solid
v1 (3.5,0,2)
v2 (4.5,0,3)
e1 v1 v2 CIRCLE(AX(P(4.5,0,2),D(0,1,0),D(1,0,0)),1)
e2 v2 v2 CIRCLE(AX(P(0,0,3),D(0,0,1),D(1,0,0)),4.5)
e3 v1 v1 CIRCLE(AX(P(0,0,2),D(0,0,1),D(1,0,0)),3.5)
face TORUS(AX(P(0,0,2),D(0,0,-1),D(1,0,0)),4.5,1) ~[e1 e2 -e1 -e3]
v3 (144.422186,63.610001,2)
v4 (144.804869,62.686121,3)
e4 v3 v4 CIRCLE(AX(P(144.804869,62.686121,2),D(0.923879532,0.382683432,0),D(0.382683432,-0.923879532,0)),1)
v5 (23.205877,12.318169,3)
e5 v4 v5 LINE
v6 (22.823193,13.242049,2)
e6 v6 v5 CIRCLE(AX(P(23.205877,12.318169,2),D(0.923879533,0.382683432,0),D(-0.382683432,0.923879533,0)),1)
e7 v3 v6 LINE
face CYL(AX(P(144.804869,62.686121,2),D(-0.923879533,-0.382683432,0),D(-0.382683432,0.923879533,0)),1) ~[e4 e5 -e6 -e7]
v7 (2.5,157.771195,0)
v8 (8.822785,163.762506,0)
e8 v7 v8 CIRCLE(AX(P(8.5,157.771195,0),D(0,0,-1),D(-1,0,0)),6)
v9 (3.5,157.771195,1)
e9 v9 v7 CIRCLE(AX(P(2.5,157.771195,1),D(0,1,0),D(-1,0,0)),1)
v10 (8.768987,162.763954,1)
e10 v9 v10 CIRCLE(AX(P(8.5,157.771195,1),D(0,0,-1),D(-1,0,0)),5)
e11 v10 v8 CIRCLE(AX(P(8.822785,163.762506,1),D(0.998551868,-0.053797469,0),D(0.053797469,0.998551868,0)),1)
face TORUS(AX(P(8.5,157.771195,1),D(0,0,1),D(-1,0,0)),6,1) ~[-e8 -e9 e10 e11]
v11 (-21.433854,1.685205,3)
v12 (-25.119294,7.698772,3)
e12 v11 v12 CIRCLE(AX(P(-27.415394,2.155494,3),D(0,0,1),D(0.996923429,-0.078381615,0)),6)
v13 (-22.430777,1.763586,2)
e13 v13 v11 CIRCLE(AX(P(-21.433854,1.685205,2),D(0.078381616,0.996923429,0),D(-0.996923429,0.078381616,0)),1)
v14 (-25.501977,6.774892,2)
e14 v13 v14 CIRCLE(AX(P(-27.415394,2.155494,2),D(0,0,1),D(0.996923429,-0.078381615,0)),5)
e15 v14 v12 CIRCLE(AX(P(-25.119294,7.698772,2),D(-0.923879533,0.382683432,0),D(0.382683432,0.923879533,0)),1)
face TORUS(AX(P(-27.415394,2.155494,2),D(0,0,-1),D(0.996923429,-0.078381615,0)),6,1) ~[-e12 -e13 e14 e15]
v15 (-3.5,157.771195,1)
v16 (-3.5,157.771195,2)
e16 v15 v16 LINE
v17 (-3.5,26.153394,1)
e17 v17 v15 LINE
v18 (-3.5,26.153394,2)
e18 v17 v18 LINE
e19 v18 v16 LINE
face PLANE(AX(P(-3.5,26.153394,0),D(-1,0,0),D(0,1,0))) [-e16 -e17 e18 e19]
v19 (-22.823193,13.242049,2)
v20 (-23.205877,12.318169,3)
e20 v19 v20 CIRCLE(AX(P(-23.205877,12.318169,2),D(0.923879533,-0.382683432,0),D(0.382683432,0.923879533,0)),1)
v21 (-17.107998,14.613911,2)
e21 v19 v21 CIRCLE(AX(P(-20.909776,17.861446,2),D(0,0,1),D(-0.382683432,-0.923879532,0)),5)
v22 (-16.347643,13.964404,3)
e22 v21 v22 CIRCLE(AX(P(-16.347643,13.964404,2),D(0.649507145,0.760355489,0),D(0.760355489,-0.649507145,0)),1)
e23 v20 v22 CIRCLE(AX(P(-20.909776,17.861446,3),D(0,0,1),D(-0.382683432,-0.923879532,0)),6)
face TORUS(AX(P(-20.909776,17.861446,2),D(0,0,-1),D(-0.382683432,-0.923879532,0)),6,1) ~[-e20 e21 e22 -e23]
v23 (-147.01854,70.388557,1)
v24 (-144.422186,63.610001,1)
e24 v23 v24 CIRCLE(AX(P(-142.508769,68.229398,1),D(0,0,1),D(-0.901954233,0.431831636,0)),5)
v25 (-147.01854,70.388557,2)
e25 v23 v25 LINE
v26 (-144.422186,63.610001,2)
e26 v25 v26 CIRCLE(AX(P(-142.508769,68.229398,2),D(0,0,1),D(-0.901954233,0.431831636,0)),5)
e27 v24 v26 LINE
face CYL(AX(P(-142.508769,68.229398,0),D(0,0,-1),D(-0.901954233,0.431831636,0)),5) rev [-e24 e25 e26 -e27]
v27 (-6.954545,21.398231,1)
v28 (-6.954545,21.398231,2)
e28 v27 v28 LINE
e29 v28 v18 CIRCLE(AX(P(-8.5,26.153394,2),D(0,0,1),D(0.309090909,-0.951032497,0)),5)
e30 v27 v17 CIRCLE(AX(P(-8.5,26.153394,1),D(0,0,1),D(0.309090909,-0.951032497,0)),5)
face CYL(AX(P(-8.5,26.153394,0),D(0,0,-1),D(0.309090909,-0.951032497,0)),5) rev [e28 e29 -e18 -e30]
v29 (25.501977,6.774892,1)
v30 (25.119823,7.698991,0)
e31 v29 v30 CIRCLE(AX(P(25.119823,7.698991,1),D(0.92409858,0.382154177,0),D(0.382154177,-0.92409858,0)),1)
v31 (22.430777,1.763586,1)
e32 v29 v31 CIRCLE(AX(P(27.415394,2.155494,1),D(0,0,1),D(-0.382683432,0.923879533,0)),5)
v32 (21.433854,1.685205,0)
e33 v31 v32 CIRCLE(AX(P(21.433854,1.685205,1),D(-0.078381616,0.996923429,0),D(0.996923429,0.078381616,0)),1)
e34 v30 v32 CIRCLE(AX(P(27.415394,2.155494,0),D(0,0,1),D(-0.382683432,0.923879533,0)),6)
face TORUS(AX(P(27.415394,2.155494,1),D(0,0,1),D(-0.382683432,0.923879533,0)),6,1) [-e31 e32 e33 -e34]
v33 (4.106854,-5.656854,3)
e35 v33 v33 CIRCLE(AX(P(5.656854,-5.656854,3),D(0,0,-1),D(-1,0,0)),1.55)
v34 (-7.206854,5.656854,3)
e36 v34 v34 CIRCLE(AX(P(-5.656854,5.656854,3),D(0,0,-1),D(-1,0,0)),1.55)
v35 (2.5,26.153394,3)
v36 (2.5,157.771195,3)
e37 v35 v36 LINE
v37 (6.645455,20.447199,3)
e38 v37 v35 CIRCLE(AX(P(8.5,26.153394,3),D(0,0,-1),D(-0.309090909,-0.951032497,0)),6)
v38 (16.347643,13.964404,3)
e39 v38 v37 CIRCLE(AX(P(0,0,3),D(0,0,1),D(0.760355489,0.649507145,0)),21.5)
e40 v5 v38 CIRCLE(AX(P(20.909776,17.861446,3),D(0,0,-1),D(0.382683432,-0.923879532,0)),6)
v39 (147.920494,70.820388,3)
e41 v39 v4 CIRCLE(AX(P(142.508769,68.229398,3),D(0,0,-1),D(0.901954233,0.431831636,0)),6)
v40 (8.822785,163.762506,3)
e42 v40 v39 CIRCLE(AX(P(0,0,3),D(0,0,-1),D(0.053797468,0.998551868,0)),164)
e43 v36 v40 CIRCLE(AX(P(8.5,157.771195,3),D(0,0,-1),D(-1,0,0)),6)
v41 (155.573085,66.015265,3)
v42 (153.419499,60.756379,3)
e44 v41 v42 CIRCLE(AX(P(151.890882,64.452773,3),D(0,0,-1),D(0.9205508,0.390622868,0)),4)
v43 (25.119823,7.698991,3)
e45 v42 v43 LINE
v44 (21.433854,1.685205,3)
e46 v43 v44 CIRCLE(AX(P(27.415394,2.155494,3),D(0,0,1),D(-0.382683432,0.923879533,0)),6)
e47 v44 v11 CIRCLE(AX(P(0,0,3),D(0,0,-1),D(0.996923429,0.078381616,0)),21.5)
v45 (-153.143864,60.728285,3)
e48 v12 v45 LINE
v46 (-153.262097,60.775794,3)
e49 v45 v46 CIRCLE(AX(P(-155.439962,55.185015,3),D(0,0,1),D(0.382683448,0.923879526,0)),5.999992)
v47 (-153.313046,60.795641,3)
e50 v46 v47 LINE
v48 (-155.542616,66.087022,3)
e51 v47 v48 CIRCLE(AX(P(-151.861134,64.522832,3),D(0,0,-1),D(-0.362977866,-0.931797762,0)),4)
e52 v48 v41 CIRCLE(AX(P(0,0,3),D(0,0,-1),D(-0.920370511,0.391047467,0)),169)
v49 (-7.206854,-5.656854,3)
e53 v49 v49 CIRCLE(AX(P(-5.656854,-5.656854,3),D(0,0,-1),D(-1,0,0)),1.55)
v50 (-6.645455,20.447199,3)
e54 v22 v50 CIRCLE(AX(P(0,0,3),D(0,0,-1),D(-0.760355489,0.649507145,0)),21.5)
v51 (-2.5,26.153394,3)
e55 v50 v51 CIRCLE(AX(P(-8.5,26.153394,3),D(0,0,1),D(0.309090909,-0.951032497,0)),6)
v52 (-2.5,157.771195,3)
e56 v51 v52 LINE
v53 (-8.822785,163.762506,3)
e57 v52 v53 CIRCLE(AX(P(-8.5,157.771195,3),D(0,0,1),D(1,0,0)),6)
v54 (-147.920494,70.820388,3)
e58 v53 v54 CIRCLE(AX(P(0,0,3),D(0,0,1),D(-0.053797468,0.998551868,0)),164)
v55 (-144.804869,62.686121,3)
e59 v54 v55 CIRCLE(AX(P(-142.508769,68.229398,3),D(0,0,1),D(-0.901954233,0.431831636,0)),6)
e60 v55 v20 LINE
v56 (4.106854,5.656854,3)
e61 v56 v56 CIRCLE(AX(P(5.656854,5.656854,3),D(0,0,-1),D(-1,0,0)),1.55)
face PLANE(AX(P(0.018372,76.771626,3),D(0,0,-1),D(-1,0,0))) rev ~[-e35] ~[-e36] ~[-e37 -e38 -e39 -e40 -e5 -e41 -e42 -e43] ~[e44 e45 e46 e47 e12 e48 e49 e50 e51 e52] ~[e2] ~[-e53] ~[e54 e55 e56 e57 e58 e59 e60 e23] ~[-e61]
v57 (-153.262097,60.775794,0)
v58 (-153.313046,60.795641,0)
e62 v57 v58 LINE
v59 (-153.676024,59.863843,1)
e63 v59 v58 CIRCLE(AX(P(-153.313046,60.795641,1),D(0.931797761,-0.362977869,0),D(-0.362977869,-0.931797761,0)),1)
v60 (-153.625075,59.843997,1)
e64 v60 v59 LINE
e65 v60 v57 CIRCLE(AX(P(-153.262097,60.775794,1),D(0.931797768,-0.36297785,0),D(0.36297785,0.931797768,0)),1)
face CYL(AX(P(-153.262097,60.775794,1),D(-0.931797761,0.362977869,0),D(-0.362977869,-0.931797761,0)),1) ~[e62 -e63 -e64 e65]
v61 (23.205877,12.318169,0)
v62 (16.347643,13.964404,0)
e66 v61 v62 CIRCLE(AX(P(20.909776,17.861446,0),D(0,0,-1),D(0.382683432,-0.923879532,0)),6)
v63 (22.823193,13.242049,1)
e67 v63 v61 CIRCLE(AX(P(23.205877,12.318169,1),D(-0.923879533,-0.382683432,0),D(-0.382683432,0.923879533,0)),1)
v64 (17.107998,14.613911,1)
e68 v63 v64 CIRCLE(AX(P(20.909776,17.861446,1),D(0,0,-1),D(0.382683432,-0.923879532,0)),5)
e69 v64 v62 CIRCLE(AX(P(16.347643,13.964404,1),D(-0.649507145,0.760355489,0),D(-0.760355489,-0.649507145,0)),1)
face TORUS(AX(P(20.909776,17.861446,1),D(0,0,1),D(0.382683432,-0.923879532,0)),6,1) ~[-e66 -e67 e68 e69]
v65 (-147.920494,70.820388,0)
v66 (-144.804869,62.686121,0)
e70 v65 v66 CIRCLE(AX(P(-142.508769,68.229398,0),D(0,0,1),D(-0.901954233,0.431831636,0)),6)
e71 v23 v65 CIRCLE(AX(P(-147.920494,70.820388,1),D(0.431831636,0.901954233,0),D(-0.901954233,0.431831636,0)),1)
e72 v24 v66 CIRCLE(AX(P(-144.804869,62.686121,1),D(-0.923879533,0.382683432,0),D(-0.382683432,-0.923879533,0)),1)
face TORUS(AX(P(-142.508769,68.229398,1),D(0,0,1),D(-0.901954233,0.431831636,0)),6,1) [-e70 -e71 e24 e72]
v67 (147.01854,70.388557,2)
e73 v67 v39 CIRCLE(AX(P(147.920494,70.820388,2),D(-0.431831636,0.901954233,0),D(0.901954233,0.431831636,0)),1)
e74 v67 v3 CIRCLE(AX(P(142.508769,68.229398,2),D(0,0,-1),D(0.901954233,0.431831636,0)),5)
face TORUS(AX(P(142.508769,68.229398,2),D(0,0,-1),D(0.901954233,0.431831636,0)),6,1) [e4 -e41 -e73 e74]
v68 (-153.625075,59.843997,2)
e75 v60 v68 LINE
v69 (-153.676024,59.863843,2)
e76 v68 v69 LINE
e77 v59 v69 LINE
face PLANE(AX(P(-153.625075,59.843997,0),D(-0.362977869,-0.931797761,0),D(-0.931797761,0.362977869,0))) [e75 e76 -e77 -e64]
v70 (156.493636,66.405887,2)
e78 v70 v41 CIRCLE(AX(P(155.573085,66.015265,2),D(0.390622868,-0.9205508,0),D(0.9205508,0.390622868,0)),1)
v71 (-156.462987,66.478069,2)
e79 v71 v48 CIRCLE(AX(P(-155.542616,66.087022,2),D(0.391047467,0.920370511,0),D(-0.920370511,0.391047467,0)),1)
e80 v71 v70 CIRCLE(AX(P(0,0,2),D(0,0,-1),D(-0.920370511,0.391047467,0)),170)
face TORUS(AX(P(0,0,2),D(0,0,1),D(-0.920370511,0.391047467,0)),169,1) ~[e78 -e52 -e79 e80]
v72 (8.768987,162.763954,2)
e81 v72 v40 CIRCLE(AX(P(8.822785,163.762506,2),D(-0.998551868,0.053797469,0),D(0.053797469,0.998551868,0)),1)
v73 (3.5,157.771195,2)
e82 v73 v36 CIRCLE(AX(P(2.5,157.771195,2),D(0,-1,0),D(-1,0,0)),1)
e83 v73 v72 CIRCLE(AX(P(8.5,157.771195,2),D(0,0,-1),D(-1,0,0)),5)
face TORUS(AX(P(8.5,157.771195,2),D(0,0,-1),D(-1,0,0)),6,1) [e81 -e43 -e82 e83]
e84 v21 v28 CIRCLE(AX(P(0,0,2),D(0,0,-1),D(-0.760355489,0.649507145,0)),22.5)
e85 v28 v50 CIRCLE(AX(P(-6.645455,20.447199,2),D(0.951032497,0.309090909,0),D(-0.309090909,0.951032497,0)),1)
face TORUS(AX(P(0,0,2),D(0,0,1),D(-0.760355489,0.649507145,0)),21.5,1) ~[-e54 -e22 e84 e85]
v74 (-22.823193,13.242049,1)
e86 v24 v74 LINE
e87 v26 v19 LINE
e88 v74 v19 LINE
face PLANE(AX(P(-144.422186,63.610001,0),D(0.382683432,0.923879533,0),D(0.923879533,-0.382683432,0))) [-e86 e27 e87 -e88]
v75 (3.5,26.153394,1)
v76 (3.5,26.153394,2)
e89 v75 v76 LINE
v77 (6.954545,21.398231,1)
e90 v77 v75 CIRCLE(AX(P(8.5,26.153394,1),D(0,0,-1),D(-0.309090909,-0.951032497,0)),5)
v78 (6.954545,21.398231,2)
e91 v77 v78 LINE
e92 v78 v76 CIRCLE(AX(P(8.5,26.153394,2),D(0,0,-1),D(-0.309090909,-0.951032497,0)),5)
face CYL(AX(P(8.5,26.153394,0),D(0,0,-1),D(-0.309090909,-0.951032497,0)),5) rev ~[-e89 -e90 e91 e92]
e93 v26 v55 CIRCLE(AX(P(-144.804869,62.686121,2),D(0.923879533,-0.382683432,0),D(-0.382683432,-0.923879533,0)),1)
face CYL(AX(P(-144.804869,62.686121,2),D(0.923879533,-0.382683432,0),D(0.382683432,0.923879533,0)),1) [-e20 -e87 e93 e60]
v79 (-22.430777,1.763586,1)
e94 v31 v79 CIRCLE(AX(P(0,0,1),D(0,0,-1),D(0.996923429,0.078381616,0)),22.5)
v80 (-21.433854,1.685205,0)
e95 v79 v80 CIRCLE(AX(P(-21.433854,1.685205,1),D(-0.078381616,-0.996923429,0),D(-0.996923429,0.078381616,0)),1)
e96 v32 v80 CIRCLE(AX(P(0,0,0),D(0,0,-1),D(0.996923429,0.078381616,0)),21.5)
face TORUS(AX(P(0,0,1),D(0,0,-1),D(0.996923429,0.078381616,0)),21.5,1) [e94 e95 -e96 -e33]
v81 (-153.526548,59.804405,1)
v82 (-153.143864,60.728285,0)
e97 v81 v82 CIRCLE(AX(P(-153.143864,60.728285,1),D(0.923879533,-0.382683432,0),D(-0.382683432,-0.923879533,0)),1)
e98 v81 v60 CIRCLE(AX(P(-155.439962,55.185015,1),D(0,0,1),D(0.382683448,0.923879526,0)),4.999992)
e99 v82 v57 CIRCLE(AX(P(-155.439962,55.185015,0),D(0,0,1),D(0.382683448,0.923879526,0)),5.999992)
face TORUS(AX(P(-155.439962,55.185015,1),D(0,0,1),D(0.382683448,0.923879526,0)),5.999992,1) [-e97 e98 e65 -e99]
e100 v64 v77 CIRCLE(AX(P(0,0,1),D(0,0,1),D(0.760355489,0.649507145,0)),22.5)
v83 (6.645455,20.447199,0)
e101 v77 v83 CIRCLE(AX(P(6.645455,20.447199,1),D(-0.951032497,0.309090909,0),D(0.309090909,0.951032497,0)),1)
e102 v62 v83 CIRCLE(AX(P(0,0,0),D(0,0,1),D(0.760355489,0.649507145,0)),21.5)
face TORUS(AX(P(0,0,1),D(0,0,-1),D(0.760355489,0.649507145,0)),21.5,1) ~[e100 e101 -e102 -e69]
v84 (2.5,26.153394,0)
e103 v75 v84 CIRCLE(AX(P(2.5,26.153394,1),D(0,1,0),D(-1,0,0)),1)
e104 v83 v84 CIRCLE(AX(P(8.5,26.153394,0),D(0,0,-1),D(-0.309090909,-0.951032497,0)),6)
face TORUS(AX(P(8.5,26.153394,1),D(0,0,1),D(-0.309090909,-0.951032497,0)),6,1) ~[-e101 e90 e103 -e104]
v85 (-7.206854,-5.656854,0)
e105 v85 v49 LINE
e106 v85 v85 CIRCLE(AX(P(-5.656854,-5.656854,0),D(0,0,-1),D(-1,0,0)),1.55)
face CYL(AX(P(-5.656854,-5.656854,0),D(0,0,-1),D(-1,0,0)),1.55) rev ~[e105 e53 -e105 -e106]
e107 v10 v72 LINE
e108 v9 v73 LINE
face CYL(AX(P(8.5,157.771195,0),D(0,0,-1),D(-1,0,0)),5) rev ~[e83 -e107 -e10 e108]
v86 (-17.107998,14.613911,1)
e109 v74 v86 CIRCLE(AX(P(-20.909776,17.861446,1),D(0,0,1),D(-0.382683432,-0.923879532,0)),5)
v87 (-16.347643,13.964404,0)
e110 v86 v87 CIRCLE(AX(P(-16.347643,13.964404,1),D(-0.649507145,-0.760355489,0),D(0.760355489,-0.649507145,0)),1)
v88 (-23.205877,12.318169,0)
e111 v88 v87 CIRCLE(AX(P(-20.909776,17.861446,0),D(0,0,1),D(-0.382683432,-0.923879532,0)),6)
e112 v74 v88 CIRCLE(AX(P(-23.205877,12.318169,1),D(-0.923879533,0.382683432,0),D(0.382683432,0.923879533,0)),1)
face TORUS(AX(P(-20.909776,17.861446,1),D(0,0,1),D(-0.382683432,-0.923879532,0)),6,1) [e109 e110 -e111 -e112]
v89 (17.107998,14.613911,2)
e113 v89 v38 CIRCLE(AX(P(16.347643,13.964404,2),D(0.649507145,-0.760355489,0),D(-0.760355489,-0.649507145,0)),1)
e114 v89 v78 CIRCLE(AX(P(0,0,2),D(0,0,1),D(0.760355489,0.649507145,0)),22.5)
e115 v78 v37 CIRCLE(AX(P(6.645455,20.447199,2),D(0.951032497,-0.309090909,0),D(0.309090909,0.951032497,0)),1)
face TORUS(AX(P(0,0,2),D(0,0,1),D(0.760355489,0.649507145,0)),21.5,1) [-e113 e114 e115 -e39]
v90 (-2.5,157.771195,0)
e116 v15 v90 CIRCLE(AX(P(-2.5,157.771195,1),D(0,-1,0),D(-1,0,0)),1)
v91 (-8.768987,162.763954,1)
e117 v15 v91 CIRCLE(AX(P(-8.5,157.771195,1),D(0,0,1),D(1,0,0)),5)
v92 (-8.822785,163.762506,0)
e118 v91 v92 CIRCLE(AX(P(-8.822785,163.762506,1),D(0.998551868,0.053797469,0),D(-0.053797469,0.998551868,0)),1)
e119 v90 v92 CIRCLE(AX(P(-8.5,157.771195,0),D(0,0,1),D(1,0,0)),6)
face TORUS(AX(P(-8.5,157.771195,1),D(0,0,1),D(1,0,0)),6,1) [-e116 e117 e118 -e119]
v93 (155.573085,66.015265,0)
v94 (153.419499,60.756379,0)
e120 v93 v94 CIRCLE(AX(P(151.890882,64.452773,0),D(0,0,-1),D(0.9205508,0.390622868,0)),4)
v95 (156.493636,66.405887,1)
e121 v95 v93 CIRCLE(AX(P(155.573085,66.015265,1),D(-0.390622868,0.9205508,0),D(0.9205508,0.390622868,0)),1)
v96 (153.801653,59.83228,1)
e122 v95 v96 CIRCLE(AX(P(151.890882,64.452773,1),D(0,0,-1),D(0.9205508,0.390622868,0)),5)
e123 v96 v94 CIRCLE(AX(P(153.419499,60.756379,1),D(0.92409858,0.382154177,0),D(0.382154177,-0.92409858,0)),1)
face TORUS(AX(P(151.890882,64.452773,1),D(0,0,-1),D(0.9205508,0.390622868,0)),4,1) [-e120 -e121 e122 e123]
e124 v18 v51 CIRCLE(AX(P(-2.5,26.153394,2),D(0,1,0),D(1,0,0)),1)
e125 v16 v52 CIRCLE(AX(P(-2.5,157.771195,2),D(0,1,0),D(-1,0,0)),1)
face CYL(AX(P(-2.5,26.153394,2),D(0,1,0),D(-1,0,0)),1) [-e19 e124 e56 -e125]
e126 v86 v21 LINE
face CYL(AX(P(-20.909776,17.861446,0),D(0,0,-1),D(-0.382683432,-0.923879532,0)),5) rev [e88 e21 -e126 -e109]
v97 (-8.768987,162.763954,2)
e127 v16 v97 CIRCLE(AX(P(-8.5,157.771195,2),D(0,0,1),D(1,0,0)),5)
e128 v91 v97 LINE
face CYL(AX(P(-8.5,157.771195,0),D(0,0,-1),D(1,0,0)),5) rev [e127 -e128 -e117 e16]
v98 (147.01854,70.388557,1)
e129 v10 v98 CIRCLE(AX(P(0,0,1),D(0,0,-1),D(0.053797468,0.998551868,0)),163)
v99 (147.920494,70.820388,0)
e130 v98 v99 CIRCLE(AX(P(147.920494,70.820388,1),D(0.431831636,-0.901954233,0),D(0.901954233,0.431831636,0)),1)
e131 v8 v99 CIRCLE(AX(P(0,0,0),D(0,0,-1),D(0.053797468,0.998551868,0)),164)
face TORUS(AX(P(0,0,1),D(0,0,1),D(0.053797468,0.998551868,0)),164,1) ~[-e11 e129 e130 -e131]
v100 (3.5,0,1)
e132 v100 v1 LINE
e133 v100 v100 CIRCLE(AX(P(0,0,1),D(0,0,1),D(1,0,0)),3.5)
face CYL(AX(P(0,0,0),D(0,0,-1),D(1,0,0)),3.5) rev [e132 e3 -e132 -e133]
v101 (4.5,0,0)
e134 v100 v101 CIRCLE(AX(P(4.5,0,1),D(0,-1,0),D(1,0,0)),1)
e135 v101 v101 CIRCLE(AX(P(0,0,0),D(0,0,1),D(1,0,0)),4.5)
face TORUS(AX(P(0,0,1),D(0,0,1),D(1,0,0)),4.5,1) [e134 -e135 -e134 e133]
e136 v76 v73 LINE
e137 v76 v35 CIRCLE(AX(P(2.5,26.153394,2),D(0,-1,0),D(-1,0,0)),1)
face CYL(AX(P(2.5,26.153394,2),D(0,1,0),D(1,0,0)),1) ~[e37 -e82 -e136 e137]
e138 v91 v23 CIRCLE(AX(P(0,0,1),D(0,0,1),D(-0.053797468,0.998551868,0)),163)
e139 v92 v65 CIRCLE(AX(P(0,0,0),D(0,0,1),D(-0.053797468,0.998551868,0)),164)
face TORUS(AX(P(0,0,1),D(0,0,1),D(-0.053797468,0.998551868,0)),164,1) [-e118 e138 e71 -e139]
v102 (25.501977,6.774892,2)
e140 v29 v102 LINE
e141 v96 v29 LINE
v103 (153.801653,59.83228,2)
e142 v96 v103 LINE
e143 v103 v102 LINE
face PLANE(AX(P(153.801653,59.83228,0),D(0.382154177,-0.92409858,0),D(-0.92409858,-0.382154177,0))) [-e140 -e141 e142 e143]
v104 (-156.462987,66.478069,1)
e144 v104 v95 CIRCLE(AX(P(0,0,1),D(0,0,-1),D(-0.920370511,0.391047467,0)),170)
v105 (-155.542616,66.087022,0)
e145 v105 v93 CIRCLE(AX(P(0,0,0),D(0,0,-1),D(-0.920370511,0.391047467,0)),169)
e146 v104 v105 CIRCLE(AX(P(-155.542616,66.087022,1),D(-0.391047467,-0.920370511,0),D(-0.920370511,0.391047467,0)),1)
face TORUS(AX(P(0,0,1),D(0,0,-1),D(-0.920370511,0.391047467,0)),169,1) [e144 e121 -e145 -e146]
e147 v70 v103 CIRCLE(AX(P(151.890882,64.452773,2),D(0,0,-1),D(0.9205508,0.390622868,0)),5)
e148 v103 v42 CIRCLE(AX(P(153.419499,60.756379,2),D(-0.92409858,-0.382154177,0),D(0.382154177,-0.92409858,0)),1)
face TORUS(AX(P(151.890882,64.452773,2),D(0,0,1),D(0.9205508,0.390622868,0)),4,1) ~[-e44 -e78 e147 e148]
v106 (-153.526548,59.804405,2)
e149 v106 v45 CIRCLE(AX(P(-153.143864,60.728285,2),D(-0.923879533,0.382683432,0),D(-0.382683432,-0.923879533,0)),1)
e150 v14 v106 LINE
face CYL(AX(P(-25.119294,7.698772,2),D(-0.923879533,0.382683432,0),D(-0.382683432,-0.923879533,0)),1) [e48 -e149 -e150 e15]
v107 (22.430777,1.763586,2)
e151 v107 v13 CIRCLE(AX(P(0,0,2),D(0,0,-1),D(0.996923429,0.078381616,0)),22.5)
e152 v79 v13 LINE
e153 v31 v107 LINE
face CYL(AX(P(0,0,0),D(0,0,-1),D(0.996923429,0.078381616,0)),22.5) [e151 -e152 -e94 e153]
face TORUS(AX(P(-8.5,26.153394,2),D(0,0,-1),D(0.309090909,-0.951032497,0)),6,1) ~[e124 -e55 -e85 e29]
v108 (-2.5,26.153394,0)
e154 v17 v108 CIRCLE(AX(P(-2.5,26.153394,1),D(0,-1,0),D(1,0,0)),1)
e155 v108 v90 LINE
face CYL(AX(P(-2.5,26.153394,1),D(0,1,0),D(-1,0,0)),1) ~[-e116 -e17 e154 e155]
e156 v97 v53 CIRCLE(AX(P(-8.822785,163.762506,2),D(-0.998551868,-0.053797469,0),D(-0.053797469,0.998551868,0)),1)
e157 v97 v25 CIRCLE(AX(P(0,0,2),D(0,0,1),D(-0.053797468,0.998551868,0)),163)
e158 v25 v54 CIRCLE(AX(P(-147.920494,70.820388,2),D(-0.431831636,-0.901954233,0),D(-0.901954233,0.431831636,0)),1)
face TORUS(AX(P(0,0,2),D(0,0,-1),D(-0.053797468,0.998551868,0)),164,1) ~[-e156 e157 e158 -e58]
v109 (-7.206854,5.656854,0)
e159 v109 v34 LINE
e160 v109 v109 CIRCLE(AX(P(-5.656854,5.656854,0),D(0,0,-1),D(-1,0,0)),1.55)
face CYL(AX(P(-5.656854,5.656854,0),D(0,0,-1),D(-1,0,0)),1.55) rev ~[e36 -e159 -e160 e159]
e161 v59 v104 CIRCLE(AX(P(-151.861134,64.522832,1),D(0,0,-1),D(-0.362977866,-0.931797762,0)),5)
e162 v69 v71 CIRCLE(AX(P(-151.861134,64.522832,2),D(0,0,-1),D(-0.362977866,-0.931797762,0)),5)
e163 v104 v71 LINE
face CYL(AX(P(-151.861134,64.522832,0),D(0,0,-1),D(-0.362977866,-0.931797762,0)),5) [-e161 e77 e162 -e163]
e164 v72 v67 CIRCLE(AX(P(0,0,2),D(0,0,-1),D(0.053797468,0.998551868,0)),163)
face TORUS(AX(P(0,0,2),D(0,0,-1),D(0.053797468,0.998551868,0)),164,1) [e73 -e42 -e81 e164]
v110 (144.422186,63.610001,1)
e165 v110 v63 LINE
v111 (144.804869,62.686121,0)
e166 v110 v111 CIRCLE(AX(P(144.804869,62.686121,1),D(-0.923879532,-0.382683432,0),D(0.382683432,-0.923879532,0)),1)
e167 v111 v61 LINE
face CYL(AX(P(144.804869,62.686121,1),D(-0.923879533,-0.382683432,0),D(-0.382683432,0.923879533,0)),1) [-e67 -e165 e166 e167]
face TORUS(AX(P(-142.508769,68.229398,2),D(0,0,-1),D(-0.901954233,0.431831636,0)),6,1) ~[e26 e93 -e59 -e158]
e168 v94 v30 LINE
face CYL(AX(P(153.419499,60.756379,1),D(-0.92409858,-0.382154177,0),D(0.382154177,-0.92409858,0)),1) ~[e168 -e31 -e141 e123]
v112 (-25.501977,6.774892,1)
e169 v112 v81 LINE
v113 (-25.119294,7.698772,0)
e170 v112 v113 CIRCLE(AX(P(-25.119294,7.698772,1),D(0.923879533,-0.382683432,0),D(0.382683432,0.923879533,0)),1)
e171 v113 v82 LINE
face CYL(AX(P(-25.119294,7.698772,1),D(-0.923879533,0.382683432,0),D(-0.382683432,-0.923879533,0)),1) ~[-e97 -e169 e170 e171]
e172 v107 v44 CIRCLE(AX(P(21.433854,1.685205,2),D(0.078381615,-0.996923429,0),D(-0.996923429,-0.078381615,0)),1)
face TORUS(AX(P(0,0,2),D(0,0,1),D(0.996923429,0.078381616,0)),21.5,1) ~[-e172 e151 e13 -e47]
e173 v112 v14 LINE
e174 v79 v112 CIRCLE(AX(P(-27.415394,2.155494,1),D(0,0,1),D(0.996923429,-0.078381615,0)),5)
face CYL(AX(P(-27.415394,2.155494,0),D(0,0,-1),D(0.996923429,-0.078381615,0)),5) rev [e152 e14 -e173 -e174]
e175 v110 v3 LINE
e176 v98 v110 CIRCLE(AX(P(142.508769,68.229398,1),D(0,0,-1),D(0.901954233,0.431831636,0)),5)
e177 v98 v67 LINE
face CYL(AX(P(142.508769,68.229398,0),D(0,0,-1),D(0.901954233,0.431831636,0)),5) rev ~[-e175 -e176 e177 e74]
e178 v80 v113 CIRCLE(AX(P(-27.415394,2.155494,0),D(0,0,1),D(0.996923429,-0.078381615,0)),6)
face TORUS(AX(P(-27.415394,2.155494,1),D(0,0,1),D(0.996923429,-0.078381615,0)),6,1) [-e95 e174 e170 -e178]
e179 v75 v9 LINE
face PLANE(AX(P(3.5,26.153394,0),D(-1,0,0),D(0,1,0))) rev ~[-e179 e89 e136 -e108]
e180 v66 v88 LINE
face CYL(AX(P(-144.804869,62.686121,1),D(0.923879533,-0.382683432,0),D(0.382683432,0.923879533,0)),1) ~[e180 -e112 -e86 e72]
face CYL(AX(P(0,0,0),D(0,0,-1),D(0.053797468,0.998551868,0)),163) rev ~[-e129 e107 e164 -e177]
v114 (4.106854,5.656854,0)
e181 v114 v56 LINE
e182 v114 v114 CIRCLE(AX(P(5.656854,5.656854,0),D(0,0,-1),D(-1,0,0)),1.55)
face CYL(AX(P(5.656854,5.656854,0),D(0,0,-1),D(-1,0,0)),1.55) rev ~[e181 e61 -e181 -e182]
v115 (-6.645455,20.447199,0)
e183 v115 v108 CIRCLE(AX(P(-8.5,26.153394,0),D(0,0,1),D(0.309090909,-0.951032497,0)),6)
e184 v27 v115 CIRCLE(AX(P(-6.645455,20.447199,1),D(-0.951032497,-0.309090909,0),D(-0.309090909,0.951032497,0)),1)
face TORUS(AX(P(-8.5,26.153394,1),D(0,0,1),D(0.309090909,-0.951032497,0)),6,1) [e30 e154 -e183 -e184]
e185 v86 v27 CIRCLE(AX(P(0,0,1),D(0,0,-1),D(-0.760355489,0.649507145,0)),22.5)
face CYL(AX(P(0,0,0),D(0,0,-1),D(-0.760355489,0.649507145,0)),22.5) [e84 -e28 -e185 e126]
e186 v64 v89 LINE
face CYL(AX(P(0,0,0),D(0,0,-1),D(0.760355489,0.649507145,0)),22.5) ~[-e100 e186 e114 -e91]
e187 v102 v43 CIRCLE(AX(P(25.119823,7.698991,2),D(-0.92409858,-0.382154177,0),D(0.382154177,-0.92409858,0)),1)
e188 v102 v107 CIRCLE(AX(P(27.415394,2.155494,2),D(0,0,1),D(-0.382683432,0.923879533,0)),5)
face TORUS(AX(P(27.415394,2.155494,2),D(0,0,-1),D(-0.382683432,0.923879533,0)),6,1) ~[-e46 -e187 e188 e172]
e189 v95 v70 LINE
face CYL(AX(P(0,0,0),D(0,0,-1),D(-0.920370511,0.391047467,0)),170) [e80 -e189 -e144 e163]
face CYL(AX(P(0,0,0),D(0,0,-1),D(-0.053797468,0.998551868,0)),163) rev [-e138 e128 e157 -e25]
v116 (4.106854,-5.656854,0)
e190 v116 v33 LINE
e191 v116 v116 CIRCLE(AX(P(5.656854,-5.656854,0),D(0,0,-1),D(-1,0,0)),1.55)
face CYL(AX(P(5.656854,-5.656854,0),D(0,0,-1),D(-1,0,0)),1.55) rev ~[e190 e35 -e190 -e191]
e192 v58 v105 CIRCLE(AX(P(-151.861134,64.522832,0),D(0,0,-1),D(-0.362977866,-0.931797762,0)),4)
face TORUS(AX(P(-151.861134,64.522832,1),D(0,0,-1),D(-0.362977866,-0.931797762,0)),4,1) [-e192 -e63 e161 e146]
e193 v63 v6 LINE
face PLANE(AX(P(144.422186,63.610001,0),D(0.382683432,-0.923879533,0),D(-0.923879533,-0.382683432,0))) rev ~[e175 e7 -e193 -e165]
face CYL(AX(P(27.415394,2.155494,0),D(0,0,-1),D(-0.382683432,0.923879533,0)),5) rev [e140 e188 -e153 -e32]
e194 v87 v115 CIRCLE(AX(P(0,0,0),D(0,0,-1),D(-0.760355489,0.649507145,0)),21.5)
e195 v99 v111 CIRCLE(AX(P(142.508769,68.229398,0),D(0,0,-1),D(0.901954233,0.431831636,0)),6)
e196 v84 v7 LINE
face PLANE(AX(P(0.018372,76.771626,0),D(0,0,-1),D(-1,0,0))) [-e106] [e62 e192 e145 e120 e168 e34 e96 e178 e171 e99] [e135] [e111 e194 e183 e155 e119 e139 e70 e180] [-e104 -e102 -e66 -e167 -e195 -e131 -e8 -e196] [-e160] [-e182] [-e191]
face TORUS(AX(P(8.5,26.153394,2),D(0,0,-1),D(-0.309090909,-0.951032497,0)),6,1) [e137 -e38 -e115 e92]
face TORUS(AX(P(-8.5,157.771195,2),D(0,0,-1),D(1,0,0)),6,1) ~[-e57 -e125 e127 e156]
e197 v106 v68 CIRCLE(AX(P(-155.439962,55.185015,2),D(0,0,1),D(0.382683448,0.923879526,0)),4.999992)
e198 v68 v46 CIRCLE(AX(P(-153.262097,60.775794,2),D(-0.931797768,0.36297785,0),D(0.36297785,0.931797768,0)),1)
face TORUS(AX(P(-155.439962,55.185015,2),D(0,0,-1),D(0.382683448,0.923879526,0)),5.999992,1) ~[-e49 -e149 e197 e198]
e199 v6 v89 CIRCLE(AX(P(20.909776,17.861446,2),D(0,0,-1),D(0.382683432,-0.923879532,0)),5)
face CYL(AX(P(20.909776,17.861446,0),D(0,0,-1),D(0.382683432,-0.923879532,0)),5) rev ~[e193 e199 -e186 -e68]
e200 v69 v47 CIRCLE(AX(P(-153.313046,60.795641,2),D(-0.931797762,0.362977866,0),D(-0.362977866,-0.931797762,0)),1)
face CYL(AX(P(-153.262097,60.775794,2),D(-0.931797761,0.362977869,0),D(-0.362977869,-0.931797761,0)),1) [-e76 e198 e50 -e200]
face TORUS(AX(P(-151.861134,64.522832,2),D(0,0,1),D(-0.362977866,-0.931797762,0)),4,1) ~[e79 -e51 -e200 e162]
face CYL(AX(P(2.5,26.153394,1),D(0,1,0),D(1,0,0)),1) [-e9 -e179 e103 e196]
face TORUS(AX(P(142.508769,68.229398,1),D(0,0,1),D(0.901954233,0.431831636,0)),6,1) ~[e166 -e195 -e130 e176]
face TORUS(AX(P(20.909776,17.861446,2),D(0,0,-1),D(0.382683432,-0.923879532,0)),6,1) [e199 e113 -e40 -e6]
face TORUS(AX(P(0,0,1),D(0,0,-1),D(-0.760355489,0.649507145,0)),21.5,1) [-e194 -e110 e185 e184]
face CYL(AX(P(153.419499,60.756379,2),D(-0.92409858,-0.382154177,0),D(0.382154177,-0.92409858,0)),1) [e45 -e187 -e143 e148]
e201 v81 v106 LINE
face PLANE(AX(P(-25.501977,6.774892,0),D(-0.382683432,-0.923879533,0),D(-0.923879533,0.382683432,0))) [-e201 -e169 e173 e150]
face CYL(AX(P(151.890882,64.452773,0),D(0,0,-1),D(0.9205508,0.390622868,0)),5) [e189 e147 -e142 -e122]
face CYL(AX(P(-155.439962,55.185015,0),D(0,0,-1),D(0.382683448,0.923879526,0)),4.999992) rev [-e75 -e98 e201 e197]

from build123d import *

# Parameters (mm, degrees)
SKETCH_1_R          = 3.5
EXTRUDE_1_DEPTH     = 3
FILLET_1_R          = 1
SKETCH_3_R          = 1.55
CUT_EXTRUDE_1_DEPTH = 3


with BuildPart() as part:
    # 스케치1 → 보스-돌출1 (new body)
    with BuildSketch(Plane.XY):
        with BuildLine():
            Line((153.801652879, 59.832280258), (25.501977123, 6.77489209))
            ThreePointArc((25.501977123, 6.77489209), (23.152294987, 4.768152916), (22.430777142, 1.76358635))
            ThreePointArc((22.430777142, 1.76358635), (0, -22.5), (-22.430777142, 1.76358635))
            ThreePointArc((-22.430777142, 1.76358635), (-23.152294987, 4.768152916), (-25.501977123, 6.77489209))
            Line((-25.501977123, 6.77489209), (-153.526547506, 59.80440546))
            ThreePointArc((-153.526547506, 59.80440546), (-153.575706318, 59.824462594), (-153.625075335, 59.843996605))
            Line((-153.625075335, 59.843996605), (-153.676023706, 59.863843327))
            ThreePointArc((-153.676023706, 59.863843327), (-156.468806345, 62.581348422), (-156.462986931, 66.478069472))
            ThreePointArc((-156.462986931, 66.478069472), (0.039209702, 169.999995478), (156.493635993, 66.405887494))
            ThreePointArc((156.493635993, 66.405887494), (156.517930689, 62.557932696), (153.801652879, 59.832280258))
        make_face()
        Circle(SKETCH_1_R, mode=Mode.SUBTRACT)
        with BuildLine():
            Line((-3.5, 26.153393661), (-3.5, 157.77119509))
            ThreePointArc((-3.5, 157.77119509), (-5.060882141, 161.400584619), (-8.768987342, 162.763954428))
            ThreePointArc((-8.768987342, 162.763954428), (-90.557947982, 135.529546805), (-147.018539952, 70.388556672))
            ThreePointArc((-147.018539952, 70.388556672), (-147.177980916, 66.440975134), (-144.42218595, 63.610000829))
            Line((-144.42218595, 63.610000829), (-22.823193096, 13.242048818))
            ThreePointArc((-22.823193096, 13.242048818), (-19.742738046, 12.999551524), (-17.107998492, 14.613910757))
            ThreePointArc((-17.107998492, 14.613910757), (-12.500330243, 18.708066277), (-6.954545455, 21.398231177))
            ThreePointArc((-6.954545455, 21.398231177), (-4.454800825, 23.214624593), (-3.5, 26.153393661))
        make_face(mode=Mode.SUBTRACT)
        with BuildLine():
            Line((3.5, 26.153393661), (3.5, 157.77119509))
            ThreePointArc((3.5, 157.77119509), (5.060882141, 161.400584619), (8.768987342, 162.763954428))
            ThreePointArc((8.768987342, 162.763954428), (90.557947982, 135.529546805), (147.018539952, 70.388556672))
            ThreePointArc((147.018539952, 70.388556672), (147.177980916, 66.440975135), (144.42218595, 63.610000829))
            Line((144.42218595, 63.610000829), (22.823193096, 13.242048818))
            ThreePointArc((22.823193096, 13.242048818), (19.742738046, 12.999551524), (17.107998492, 14.613910757))
            ThreePointArc((17.107998492, 14.613910757), (12.500330243, 18.708066277), (6.954545455, 21.398231177))
            ThreePointArc((6.954545455, 21.398231177), (4.454800825, 23.214624593), (3.5, 26.153393661))
        make_face(mode=Mode.SUBTRACT)
    extrude(amount=EXTRUDE_1_DEPTH)

    # 필렛1
    fillet_1_edges = [part.edges().sort_by_distance(p)[0] for p in [
        (-156.468806345, 62.581348422, 3),
        (0, -22.5, 0),
        (-23.152294987, 4.768152916, 0),
        (-89.514262314, 33.289648775, 0),
        (-153.575706318, 59.824462594, 0),
        (-153.650549521, 59.853919966, 0),
        (-156.468806345, 62.581348422, 0),
        (0.039209702, 169.999995478, 0),
        (156.517930689, 62.557932696, 0),
        (-153.650549521, 59.853919966, 3),
        (-153.575706318, 59.824462594, 3),
        (-89.514262314, 33.289648775, 3),
        (-23.152294987, 4.768152916, 3),
        (0, -22.5, 3),
        (-3.5, 0, 0),
        (-3.5, 0, 3),
        (23.152294987, 4.768152916, 3),
        (89.651815001, 33.303586174, 3),
        (-147.177980916, 66.440975134, 0),
        (-83.622689523, 38.426024824, 0),
        (-19.742738046, 12.999551524, 0),
        (-12.500330243, 18.708066277, 0),
        (-4.454800825, 23.214624593, 0),
        (-3.5, 91.962294375, 0),
        (-5.060882141, 161.400584619, 0),
        (-90.557947982, 135.529546805, 0),
        (-147.177980916, 66.440975134, 3),
        (-83.622689523, 38.426024824, 3),
        (-19.742738046, 12.999551524, 3),
        (-12.500330243, 18.708066277, 3),
        (-4.454800825, 23.214624593, 3),
        (-3.5, 91.962294375, 3),
        (156.517930689, 62.557932696, 3),
        (-5.060882141, 161.400584619, 3),
        (-90.557947982, 135.529546805, 3),
        (5.060882141, 161.400584619, 0),
        (3.5, 91.962294375, 0),
        (4.454800825, 23.214624593, 0),
        (12.500330243, 18.708066277, 0),
        (19.742738046, 12.999551524, 0),
        (83.622689523, 38.426024824, 0),
        (147.177980916, 66.440975135, 0),
        (90.557947982, 135.529546805, 0),
        (5.060882141, 161.400584619, 3),
        (3.5, 91.962294375, 3),
        (4.454800825, 23.214624593, 3),
        (12.500330243, 18.708066277, 3),
        (19.742738046, 12.999551524, 3),
        (83.622689523, 38.426024824, 3),
        (147.177980916, 66.440975135, 3),
        (90.557947982, 135.529546805, 3),
        (0.039209702, 169.999995478, 3),
        (89.651815001, 33.303586174, 0),
        (23.152294987, 4.768152916, 0),
    ]]
    fillet(fillet_1_edges, radius=FILLET_1_R)

    # 스케치3 → 컷-돌출1 (cut)
    with BuildSketch(Plane(origin=(0, 0, 0), x_dir=(-1, 0, 0), z_dir=(0, 0, -1))):
        with Locations((-5.656854249, 5.656854249)):
            Circle(SKETCH_3_R)
        with Locations((5.656854249, 5.656854249)):
            Circle(SKETCH_3_R)
        with Locations((5.656854249, -5.656854249)):
            Circle(SKETCH_3_R)
        with Locations((-5.656854249, -5.656854249)):
            Circle(SKETCH_3_R)
    extrude(amount=-CUT_EXTRUDE_1_DEPTH, mode=Mode.SUBTRACT)


solid = part.part
